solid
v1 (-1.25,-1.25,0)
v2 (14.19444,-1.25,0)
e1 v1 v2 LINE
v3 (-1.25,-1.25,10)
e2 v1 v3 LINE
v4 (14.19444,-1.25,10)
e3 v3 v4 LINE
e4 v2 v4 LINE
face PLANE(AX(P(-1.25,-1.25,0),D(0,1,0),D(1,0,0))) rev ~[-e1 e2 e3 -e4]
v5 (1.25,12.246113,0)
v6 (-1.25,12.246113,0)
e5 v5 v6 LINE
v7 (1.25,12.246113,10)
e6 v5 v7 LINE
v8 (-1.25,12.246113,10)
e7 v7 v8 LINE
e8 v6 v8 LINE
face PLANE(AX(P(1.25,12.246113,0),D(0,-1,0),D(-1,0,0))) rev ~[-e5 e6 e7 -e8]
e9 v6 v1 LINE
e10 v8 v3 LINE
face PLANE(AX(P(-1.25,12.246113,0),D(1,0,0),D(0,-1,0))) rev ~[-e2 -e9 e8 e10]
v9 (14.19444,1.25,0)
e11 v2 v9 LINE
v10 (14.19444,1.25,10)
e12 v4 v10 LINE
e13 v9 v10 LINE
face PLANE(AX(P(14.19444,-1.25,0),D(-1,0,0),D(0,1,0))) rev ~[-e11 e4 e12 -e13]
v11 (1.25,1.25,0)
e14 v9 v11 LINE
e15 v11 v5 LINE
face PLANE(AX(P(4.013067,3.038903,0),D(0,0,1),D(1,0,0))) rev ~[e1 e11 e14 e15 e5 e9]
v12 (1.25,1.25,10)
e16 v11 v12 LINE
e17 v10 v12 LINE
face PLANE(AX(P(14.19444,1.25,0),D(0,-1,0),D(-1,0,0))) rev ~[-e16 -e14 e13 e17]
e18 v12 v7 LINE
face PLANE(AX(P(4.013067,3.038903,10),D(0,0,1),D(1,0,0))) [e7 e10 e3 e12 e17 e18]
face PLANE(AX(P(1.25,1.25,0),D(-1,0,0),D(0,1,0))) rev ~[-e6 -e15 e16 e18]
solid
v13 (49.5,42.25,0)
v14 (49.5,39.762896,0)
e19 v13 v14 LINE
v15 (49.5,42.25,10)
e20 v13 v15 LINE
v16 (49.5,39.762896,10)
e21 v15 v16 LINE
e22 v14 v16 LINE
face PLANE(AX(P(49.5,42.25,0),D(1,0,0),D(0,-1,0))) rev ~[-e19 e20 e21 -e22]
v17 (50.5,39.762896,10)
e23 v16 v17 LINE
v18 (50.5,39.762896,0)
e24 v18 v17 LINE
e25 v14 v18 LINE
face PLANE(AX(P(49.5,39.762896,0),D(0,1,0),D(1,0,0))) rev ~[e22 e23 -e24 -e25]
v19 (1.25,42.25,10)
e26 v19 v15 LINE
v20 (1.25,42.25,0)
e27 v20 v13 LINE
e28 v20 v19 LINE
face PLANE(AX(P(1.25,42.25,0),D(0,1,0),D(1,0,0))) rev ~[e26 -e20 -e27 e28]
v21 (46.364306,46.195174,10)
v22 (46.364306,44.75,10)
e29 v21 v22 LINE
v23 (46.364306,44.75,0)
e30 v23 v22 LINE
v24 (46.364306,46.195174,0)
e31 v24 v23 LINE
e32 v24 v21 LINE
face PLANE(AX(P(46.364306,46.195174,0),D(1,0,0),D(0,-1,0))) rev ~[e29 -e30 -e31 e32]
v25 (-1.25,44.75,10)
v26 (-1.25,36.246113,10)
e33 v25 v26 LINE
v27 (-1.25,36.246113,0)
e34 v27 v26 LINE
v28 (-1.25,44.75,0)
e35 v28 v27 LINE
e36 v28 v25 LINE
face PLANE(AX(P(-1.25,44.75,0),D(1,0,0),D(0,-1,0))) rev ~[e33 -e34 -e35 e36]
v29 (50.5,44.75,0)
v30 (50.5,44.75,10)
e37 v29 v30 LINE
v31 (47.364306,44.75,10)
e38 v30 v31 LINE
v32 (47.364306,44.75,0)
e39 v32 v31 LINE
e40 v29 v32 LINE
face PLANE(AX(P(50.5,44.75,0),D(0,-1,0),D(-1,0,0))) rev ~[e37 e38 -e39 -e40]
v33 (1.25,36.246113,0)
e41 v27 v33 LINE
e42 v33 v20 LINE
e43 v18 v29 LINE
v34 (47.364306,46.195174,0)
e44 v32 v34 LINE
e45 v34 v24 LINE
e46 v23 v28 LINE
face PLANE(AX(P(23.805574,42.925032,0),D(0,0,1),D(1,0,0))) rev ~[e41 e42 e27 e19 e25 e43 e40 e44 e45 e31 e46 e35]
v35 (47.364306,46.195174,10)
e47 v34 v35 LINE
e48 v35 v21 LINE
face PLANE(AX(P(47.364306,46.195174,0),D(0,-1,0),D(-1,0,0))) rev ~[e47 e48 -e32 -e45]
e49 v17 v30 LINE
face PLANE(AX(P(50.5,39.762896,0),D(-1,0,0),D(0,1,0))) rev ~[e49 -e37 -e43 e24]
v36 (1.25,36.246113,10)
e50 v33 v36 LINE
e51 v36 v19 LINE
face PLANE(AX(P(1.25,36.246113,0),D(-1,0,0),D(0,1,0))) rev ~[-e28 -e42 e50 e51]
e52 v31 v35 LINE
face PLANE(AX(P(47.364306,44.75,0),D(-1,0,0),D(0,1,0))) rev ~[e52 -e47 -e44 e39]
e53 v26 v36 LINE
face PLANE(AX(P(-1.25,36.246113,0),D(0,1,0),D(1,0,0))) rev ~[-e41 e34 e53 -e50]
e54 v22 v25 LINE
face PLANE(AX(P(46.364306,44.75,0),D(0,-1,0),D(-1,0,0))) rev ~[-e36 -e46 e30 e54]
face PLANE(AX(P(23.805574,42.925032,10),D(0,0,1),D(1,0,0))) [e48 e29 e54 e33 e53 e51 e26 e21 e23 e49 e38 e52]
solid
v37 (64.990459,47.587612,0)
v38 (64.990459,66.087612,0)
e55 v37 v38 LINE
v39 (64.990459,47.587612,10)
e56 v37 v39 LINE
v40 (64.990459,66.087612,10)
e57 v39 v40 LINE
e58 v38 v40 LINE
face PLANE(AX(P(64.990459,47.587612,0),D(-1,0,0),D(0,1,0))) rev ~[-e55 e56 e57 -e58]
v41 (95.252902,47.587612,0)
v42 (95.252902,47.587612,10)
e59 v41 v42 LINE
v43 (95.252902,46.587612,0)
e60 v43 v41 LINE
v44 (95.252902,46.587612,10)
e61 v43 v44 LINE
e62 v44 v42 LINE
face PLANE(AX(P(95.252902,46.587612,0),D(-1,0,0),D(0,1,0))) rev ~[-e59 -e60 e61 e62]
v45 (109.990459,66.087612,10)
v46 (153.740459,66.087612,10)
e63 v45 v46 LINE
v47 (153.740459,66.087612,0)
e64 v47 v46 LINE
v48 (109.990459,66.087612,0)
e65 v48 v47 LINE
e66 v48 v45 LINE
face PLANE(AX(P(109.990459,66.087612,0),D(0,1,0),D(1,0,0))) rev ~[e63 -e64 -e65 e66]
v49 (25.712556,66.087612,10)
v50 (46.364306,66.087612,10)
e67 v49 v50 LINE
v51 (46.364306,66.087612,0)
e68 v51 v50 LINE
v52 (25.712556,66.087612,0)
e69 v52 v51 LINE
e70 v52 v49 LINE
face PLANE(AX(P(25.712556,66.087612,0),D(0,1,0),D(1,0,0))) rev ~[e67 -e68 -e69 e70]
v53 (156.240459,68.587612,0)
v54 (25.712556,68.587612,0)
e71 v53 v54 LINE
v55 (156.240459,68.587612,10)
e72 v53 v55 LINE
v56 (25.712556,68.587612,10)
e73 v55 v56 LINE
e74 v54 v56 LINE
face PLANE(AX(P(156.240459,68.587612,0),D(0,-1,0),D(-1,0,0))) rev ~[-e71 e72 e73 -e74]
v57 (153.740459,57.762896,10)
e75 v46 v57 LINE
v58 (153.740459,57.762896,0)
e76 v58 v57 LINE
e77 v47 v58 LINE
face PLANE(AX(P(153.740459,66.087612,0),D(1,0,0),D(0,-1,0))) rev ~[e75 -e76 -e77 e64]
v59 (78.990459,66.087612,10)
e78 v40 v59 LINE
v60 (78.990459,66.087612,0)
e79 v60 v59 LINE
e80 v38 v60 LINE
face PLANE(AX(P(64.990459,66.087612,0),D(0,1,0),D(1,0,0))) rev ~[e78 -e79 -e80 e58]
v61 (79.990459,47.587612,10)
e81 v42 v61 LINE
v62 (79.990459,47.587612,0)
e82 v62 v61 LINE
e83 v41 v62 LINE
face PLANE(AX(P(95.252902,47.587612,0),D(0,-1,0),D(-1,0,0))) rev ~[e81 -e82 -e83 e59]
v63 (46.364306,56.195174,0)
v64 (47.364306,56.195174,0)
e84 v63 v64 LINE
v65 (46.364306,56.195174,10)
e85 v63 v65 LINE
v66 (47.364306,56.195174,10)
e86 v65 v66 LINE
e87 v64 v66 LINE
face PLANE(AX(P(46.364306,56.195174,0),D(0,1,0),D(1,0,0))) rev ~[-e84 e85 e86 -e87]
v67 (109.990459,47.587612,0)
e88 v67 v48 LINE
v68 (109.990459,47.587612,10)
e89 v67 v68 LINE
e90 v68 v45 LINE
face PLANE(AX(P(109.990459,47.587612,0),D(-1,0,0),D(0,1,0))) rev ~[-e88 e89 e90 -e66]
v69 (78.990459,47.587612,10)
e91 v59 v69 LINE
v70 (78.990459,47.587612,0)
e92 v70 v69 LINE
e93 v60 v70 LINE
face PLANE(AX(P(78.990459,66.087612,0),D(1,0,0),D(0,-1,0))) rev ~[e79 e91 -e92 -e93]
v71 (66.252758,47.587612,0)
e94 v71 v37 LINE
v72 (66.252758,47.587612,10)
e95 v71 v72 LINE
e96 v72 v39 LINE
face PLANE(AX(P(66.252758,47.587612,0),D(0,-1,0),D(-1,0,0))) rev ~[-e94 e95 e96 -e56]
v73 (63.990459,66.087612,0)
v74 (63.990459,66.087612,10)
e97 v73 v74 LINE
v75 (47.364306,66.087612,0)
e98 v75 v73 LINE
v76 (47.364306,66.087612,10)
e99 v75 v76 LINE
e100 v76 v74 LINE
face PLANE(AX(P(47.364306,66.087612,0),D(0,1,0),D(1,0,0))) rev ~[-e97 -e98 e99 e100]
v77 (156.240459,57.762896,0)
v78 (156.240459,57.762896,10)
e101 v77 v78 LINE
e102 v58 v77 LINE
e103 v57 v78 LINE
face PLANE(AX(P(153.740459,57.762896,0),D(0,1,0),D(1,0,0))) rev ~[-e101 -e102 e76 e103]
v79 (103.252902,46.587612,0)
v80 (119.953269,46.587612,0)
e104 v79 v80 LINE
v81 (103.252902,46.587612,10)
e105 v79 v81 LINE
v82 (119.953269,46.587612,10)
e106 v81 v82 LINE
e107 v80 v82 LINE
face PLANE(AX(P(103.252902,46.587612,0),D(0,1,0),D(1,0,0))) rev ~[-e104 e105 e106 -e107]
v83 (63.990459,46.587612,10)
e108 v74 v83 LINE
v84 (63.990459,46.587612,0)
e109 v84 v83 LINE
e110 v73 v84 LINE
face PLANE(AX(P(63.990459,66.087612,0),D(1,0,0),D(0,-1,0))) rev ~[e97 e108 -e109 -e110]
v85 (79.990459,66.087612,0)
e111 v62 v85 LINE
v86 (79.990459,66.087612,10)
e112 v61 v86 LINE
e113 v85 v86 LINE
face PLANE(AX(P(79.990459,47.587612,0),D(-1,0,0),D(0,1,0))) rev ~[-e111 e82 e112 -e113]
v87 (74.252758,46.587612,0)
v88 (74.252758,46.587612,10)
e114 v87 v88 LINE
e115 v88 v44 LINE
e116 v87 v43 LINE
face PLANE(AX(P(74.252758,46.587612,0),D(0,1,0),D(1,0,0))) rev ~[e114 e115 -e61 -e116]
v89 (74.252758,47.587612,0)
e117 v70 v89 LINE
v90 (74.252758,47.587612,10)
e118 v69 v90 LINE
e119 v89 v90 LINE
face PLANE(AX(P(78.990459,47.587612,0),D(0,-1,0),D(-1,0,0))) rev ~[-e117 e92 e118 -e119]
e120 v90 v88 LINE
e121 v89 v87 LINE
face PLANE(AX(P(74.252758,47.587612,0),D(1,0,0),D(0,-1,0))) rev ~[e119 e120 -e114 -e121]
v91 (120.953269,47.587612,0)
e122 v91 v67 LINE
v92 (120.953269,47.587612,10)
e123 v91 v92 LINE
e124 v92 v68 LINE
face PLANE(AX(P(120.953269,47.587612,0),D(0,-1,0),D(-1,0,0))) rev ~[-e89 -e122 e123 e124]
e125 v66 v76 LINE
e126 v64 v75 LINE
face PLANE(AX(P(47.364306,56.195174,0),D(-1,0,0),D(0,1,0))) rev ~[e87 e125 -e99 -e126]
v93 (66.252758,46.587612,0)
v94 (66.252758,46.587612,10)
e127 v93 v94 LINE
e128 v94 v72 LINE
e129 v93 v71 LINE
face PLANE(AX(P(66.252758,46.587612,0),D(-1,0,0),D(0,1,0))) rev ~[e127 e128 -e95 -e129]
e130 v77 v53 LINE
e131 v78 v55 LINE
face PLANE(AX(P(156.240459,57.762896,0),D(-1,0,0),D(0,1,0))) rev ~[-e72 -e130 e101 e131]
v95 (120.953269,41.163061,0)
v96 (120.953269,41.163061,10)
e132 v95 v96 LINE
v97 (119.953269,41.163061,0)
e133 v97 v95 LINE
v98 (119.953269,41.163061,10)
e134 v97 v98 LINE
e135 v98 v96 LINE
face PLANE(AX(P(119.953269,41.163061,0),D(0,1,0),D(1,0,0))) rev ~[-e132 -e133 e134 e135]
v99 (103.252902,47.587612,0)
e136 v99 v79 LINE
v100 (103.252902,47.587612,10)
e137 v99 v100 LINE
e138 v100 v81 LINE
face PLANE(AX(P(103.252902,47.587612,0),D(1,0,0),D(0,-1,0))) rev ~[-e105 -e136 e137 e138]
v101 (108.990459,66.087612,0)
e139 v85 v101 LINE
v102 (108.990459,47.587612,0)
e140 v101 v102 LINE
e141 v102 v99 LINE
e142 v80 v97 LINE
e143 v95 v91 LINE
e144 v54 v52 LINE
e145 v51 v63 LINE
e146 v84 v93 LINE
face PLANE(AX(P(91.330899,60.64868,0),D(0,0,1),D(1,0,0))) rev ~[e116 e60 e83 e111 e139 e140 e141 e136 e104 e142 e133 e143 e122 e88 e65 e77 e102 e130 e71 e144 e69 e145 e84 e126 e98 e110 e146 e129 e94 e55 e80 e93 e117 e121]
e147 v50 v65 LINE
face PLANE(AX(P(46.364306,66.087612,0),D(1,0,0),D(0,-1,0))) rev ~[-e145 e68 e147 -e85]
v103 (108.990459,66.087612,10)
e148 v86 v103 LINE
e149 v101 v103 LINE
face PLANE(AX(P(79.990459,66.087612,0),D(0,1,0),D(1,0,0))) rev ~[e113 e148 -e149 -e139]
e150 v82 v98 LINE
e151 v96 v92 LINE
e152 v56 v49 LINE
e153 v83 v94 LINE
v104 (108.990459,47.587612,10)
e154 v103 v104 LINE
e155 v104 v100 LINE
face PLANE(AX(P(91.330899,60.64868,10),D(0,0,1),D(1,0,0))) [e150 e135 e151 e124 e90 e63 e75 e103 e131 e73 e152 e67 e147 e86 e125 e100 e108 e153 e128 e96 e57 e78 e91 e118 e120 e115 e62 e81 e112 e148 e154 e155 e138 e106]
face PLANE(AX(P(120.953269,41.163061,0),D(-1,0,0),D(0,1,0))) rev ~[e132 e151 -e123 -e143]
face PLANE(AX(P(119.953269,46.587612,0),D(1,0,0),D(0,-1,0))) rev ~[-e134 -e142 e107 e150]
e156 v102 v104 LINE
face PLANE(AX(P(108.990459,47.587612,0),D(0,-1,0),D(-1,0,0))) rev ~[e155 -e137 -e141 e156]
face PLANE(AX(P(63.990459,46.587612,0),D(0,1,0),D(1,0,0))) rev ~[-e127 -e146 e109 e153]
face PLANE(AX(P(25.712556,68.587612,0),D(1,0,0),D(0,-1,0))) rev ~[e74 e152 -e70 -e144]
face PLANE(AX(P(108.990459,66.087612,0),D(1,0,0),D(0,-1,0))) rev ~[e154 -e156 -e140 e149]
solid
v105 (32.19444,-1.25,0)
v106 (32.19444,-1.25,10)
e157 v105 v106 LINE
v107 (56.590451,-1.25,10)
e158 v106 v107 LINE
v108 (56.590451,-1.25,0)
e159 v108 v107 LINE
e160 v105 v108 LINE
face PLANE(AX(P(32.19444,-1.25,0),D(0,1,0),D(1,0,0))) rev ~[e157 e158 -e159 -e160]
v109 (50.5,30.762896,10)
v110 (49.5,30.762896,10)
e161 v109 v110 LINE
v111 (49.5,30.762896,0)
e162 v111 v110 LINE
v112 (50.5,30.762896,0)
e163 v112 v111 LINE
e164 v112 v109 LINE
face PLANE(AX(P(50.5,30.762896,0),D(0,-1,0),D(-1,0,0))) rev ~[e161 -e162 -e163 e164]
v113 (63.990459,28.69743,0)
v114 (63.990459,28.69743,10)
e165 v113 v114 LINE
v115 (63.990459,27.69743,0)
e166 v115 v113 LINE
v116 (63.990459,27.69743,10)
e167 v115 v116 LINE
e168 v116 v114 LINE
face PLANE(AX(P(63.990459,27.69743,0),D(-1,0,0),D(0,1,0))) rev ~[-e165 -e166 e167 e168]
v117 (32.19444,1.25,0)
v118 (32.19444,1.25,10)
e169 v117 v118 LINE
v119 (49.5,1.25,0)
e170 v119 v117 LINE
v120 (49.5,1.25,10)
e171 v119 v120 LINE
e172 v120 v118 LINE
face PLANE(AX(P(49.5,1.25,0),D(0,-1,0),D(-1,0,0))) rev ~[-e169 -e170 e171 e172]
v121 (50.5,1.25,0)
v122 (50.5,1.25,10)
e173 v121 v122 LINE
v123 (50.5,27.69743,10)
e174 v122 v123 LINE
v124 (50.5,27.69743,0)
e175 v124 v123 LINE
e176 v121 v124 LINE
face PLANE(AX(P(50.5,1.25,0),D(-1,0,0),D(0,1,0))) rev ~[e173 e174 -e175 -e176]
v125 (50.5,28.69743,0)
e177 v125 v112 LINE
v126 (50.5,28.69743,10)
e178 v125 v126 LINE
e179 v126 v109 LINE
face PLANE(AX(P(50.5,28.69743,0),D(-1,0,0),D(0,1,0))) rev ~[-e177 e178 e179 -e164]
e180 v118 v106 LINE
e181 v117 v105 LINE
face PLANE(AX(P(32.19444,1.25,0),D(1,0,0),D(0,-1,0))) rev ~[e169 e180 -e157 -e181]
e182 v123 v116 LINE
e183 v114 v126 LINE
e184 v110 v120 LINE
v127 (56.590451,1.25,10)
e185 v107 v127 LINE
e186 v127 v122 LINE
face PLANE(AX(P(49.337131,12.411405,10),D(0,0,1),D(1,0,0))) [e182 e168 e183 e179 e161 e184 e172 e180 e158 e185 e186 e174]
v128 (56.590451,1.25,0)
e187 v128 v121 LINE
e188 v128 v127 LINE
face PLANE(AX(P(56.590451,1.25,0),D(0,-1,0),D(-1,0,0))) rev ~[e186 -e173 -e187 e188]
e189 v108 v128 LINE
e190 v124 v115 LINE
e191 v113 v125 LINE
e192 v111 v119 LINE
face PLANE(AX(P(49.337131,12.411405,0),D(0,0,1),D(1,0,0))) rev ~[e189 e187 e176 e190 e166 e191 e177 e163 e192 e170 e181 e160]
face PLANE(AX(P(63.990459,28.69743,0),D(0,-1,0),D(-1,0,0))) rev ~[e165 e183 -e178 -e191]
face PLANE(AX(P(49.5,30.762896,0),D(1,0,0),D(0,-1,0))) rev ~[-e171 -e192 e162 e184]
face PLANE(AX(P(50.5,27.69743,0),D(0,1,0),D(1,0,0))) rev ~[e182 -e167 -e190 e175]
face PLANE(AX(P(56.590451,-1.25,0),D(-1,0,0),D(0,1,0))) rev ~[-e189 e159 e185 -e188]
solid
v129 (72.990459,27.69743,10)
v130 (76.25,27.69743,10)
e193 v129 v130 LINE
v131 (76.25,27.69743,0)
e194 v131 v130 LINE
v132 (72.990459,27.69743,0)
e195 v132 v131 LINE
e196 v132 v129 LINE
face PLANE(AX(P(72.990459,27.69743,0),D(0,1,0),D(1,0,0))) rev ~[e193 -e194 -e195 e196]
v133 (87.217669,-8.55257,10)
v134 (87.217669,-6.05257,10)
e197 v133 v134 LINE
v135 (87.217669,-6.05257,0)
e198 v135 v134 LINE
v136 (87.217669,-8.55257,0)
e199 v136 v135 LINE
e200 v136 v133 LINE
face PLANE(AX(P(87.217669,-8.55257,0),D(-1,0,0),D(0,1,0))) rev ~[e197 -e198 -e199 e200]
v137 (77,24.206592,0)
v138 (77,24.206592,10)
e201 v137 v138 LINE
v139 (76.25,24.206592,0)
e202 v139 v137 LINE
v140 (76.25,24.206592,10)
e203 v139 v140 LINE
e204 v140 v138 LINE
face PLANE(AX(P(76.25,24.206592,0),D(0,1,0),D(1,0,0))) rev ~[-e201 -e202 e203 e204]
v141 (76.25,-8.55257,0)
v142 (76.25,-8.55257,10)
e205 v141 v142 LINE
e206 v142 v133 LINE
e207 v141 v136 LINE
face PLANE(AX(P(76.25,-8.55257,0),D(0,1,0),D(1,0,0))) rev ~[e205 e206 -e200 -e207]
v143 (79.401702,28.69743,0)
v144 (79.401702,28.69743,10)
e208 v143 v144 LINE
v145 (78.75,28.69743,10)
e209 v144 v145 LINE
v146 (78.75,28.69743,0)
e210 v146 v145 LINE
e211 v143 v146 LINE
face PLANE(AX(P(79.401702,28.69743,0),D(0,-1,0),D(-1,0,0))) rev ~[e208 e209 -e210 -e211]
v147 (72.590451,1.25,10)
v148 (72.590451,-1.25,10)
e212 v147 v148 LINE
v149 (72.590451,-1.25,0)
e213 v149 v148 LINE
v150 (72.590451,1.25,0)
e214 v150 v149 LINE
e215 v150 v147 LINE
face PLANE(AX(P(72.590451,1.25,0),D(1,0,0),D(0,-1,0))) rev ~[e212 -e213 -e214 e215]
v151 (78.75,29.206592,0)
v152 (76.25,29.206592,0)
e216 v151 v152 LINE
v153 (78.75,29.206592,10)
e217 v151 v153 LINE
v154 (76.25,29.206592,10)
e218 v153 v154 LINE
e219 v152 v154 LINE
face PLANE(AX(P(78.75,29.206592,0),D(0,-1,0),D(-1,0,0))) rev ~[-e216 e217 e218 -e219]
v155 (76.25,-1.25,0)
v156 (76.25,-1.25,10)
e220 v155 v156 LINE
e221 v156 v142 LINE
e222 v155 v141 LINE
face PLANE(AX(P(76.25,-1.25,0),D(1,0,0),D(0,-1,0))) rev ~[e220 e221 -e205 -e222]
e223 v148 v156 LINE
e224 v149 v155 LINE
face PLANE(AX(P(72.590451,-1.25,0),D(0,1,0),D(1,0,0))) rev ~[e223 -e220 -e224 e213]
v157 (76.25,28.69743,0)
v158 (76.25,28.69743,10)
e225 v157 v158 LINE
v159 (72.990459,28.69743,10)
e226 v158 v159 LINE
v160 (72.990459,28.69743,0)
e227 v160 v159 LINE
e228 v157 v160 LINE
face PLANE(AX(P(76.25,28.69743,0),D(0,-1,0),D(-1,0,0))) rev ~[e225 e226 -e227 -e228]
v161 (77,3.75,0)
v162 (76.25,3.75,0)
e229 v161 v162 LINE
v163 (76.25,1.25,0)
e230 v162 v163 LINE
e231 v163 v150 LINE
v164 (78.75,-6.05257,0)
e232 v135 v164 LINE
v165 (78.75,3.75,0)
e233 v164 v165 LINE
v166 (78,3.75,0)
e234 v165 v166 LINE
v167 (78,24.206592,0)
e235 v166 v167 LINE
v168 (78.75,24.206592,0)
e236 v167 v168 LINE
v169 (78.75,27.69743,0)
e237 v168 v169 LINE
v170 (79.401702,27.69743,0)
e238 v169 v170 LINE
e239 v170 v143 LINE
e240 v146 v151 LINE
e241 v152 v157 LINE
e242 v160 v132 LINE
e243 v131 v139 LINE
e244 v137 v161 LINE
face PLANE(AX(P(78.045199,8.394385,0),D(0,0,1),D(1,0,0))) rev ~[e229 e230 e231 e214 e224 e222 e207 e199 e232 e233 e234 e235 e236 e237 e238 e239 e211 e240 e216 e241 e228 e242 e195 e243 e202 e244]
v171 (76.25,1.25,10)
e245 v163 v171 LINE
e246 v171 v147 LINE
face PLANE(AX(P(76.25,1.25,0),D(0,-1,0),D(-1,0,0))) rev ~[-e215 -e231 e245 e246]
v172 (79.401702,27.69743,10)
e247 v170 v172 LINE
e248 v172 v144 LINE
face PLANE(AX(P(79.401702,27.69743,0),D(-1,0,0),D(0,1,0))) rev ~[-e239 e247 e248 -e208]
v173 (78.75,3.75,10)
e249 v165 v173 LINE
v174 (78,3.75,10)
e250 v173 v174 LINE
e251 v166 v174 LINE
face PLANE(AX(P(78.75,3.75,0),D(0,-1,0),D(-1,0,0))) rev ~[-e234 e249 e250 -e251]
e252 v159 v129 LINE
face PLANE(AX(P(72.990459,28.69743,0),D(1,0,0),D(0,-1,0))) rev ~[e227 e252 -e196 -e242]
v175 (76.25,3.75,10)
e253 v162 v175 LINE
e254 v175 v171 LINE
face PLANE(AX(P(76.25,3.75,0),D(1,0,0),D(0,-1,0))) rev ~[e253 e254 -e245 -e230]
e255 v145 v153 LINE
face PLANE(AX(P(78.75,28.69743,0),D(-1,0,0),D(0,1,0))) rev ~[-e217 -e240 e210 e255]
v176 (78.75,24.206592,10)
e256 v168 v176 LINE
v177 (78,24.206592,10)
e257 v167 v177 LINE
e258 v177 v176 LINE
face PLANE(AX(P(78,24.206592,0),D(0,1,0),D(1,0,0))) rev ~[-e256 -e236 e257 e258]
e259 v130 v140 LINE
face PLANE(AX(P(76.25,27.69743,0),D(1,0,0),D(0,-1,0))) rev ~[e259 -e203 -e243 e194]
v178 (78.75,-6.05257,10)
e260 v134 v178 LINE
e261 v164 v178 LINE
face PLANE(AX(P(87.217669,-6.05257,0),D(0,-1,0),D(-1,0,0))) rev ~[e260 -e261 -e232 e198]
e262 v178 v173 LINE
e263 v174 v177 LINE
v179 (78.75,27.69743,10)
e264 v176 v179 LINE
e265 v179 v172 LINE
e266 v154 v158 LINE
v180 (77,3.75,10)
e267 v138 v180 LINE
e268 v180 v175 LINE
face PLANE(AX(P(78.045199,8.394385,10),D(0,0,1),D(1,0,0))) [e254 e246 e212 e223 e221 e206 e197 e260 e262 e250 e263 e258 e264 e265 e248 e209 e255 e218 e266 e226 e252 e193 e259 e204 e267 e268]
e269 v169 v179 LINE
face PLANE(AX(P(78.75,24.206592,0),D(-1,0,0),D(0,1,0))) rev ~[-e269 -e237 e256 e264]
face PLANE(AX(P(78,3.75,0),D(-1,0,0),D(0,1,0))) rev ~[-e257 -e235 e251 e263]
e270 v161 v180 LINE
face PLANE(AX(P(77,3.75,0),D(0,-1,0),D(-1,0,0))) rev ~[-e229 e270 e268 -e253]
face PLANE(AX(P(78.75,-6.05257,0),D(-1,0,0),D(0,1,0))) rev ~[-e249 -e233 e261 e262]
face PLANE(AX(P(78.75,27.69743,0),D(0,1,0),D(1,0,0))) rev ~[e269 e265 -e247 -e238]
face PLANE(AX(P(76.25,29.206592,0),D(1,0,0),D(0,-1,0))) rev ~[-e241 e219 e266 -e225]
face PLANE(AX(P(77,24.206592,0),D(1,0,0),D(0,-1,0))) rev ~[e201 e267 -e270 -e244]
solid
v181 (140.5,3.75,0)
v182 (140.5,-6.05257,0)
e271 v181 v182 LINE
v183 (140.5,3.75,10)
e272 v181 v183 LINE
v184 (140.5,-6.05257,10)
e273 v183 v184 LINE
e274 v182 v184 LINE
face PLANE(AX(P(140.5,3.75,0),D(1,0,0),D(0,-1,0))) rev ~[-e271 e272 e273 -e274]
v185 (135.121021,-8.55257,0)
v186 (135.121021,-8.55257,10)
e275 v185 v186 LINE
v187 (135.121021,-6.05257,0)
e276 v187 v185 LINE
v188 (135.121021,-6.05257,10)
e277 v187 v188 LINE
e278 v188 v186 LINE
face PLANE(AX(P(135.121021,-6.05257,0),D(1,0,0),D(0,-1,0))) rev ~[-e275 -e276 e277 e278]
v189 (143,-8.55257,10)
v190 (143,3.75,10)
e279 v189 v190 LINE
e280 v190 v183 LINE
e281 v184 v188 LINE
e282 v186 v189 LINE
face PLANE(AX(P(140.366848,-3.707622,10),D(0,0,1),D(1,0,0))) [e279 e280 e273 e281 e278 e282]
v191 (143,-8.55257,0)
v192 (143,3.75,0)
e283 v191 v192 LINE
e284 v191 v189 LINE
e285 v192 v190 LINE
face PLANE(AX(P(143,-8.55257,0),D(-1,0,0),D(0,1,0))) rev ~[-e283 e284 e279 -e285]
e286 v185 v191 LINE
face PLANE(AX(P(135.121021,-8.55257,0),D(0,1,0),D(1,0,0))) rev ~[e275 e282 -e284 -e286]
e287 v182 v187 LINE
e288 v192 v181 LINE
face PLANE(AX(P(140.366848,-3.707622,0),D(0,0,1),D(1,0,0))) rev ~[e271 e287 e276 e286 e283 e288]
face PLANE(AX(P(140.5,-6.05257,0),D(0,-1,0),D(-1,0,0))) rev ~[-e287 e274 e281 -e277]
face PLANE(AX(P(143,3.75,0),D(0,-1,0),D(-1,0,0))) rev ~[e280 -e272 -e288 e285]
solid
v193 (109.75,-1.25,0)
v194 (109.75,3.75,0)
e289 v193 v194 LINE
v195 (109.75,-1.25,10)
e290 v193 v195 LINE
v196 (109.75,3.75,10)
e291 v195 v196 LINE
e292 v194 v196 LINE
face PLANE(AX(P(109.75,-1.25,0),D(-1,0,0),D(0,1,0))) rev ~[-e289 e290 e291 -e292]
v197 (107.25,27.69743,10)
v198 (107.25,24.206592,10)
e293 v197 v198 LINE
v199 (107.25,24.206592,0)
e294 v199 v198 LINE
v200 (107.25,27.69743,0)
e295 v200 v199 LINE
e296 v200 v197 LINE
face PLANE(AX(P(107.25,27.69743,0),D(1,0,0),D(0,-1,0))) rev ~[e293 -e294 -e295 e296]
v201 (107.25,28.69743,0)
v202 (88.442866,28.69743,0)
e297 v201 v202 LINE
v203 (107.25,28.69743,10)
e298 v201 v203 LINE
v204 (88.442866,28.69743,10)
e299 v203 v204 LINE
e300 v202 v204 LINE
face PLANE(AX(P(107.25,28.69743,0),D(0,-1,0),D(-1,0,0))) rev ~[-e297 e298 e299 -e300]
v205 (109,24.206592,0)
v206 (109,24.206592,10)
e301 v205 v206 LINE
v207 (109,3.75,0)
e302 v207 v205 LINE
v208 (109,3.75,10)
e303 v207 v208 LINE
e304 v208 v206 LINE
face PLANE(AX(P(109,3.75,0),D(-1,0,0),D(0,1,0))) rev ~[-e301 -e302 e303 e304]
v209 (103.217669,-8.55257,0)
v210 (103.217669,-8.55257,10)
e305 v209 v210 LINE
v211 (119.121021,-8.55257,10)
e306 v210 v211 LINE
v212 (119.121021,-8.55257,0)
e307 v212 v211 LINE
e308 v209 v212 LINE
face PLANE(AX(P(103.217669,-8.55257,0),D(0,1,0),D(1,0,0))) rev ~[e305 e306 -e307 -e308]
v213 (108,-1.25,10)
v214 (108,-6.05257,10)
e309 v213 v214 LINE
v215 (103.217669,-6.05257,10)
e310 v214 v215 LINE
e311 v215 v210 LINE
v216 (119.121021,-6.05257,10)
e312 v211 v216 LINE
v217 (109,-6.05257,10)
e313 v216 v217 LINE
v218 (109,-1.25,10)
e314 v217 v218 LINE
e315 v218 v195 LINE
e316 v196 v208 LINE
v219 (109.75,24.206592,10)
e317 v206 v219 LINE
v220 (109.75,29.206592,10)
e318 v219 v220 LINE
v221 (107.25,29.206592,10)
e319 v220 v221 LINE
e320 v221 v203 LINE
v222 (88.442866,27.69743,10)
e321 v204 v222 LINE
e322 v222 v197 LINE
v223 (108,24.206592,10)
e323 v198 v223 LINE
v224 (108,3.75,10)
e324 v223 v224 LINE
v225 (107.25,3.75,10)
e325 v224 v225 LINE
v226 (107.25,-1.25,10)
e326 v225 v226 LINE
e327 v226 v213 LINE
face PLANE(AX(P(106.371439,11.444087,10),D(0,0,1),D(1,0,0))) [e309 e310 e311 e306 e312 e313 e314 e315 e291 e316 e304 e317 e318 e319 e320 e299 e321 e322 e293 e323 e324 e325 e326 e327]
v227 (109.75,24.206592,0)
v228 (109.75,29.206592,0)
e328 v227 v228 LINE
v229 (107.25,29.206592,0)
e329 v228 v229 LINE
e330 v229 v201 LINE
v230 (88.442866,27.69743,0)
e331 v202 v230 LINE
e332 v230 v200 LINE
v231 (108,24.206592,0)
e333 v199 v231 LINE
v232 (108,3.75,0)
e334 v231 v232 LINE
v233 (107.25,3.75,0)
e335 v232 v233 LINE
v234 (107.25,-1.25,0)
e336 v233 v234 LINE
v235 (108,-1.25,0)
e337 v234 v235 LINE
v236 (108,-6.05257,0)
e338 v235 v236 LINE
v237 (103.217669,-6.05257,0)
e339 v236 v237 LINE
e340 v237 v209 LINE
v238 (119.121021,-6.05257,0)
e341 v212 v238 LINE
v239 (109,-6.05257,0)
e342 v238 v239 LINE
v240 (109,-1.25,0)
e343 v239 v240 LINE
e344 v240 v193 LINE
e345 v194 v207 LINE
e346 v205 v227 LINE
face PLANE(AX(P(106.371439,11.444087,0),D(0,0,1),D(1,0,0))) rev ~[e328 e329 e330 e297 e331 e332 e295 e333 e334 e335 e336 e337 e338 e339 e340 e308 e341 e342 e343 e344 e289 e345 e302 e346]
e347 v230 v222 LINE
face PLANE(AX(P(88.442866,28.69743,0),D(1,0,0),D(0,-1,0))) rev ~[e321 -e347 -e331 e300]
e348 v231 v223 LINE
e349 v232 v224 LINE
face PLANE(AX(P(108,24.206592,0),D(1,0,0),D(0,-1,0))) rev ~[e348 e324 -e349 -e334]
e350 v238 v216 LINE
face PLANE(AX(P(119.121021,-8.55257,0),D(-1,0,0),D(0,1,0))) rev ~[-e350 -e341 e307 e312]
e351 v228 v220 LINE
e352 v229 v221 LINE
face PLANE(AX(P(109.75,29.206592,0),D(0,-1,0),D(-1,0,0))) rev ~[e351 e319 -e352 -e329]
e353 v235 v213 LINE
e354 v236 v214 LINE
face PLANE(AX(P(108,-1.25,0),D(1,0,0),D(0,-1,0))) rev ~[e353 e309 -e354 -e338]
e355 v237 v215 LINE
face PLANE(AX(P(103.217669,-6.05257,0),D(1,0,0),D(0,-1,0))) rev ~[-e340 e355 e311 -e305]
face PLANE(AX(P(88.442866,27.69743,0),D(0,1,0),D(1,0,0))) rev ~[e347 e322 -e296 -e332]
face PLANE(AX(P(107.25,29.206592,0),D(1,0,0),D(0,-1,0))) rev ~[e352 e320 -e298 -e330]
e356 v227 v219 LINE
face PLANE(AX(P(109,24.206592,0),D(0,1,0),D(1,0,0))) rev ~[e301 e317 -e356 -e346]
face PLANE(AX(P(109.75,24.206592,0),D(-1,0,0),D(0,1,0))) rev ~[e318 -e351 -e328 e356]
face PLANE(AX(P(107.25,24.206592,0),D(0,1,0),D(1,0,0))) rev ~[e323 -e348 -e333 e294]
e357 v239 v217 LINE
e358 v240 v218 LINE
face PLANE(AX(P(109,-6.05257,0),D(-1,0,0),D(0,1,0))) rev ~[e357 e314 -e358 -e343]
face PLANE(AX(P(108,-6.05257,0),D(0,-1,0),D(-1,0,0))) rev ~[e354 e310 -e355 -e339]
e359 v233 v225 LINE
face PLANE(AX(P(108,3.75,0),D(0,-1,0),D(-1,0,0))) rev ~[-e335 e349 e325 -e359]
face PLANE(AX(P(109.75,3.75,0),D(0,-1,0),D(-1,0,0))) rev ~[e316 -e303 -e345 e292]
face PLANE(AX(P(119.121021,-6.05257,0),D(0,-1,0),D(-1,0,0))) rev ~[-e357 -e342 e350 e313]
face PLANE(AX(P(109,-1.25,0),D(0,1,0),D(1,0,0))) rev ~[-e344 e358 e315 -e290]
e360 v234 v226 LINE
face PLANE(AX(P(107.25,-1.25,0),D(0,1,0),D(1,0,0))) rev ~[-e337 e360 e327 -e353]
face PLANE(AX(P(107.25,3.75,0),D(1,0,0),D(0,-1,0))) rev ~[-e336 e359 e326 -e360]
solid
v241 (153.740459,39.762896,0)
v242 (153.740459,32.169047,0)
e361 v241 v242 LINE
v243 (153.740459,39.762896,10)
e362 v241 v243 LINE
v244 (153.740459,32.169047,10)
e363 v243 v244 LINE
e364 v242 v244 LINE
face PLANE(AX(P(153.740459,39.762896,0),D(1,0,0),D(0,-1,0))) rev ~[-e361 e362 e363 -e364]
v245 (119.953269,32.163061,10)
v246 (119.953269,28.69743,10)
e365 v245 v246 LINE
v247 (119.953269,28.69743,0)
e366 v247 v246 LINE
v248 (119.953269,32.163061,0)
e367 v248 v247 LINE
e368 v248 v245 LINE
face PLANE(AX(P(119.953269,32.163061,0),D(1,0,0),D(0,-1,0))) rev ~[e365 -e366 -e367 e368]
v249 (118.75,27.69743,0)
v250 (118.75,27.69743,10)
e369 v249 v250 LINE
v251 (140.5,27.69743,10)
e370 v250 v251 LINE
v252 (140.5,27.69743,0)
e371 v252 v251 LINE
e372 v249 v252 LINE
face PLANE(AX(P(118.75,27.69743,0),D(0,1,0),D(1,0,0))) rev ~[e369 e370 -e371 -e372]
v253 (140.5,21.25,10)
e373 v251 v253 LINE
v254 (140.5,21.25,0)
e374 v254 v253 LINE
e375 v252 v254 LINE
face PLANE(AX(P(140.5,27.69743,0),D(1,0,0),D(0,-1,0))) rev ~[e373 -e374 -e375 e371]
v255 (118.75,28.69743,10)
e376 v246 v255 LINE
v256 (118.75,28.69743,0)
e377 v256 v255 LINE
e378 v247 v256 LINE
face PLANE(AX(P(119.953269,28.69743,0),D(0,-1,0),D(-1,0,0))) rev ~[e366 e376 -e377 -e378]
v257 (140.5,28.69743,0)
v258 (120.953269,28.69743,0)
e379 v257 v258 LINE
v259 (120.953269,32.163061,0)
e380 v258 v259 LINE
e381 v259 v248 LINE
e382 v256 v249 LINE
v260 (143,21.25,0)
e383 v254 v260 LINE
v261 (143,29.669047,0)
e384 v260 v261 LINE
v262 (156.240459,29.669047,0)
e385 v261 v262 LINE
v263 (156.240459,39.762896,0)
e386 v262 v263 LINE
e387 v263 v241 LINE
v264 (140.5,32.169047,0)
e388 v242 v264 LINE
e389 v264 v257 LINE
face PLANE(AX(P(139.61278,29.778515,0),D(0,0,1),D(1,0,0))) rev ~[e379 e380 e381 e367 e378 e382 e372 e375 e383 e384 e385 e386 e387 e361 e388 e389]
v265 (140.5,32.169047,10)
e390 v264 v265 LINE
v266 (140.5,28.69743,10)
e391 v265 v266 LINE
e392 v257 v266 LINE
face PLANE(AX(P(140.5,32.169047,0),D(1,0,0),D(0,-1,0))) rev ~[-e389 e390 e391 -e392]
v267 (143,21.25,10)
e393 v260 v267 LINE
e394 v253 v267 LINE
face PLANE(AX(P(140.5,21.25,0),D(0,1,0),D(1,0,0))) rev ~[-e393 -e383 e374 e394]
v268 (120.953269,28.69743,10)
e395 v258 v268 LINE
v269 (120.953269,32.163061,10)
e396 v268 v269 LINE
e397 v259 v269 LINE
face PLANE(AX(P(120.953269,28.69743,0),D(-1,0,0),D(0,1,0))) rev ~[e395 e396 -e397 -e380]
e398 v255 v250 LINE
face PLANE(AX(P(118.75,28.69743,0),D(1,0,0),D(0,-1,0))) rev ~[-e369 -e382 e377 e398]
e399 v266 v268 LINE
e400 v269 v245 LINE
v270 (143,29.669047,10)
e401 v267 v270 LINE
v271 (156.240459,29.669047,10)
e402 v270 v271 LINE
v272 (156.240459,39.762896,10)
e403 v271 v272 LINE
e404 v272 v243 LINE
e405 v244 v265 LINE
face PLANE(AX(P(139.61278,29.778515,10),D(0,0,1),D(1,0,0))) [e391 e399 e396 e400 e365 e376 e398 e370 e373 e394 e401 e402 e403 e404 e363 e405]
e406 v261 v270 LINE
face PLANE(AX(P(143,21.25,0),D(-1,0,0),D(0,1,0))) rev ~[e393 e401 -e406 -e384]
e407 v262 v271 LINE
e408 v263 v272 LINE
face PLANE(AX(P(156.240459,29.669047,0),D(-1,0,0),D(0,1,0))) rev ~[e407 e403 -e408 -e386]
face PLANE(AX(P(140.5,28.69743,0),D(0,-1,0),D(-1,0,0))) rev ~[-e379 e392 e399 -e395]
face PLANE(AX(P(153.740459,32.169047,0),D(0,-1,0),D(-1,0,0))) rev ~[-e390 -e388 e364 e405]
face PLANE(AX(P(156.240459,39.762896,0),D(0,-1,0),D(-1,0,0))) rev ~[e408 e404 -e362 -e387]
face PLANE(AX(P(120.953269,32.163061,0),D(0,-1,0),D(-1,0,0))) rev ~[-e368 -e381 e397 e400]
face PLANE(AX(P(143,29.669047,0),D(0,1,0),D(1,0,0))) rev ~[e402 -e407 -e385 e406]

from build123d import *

# Parameters (mm, degrees)
BOSS_EXTRUDE1_DEPTH   = 10
BOSS_EXTRUDE1_2_DEPTH = 10
BOSS_EXTRUDE1_3_DEPTH = 10
BOSS_EXTRUDE1_4_DEPTH = 10
BOSS_EXTRUDE1_5_DEPTH = 10
BOSS_EXTRUDE1_6_DEPTH = 10
BOSS_EXTRUDE1_7_DEPTH = 10
BOSS_EXTRUDE1_8_DEPTH = 10


with BuildPart() as part:
    # Sketch2 → Boss-Extrude1 (new body)
    with BuildSketch(Plane.XY):
        Polygon((1.25, 42.25), (49.5, 42.25), (49.5, 39.76289584), (50.5, 39.76289584), (50.5, 44.75), (47.364305552, 44.75), (47.364305552, 46.195174047), (46.364305552, 46.195174047), (46.364305552, 44.75), (-1.25, 44.75), (-1.25, 36.246112635), (1.25, 36.246112635), align=None)
    extrude(amount=BOSS_EXTRUDE1_DEPTH)


with BuildPart() as body_2:
    # Sketch2 → Boss-Extrude1 2 (new body)
    with BuildSketch(Plane.XY):
        Polygon((-1.25, 12.246112635), (-1.25, -1.25), (14.194440447, -1.25), (14.194440447, 1.25), (1.25, 1.25), (1.25, 12.246112635), align=None)
    extrude(amount=BOSS_EXTRUDE1_2_DEPTH)


with BuildPart() as body_3:
    # Sketch2 → Boss-Extrude1 3 (new body)
    with BuildSketch(Plane.XY):
        Polygon((56.590450533, 1.25), (50.5, 1.25), (50.5, 27.697429853), (63.990459014, 27.697429853), (63.990459014, 28.697429853), (50.5, 28.697429853), (50.5, 30.76289584), (49.5, 30.76289584), (49.5, 1.25), (32.194440447, 1.25), (32.194440447, -1.25), (56.590450533, -1.25), align=None)
    extrude(amount=BOSS_EXTRUDE1_3_DEPTH)


with BuildPart() as body_4:
    # Sketch2 → Boss-Extrude1 4 (new body)
    with BuildSketch(Plane.XY):
        Polygon((72.590450533, -1.25), (76.25, -1.25), (76.25, -8.552570147), (87.217668521, -8.552570147), (87.217668521, -6.052570147), (78.75, -6.052570147), (78.75, 3.75), (78, 3.75), (78, 24.206591876), (78.75, 24.206591876), (78.75, 27.697429853), (79.401701652, 27.697429853), (79.401701652, 28.697429853), (78.75, 28.697429853), (78.75, 29.206591876), (76.25, 29.206591876), (76.25, 28.697429853), (72.990459014, 28.697429853), (72.990459014, 27.697429853), (76.25, 27.697429853), (76.25, 24.206591876), (77, 24.206591876), (77, 3.75), (76.25, 3.75), (76.25, 1.25), (72.590450533, 1.25), align=None)
    extrude(amount=BOSS_EXTRUDE1_4_DEPTH)


with BuildPart() as body_5:
    # Sketch2 → Boss-Extrude1 5 (new body)
    with BuildSketch(Plane.XY):
        Polygon((119.121020592, -6.052570147), (109, -6.052570147), (109, -1.25), (109.75, -1.25), (109.75, 3.75), (109, 3.75), (109, 24.206591876), (109.75, 24.206591876), (109.75, 29.206591876), (107.25, 29.206591876), (107.25, 28.697429853), (88.442866465, 28.697429853), (88.442866465, 27.697429853), (107.25, 27.697429853), (107.25, 24.206591876), (108, 24.206591876), (108, 3.75), (107.25, 3.75), (107.25, -1.25), (108, -1.25), (108, -6.052570147), (103.217668521, -6.052570147), (103.217668521, -8.552570147), (119.121020592, -8.552570147), align=None)
    extrude(amount=BOSS_EXTRUDE1_5_DEPTH)


with BuildPart() as body_6:
    # Sketch2 → Boss-Extrude1 6 (new body)
    with BuildSketch(Plane.XY):
        Polygon((135.121020592, -8.552570147), (143, -8.552570147), (143, 3.75), (140.5, 3.75), (140.5, -6.052570147), (135.121020592, -6.052570147), align=None)
    extrude(amount=BOSS_EXTRUDE1_6_DEPTH)


with BuildPart() as body_7:
    # Sketch2 → Boss-Extrude1 7 (new body)
    with BuildSketch(Plane.XY):
        Polygon((140.5, 32.169046535), (140.5, 28.697429853), (120.953268871, 28.697429853), (120.953268871, 32.163060598), (119.953268871, 32.163060598), (119.953268871, 28.697429853), (118.75, 28.697429853), (118.75, 27.697429853), (140.5, 27.697429853), (140.5, 21.25), (143, 21.25), (143, 29.669046535), (156.240459014, 29.669046535), (156.240459014, 39.76289584), (153.740459014, 39.76289584), (153.740459014, 32.169046535), align=None)
    extrude(amount=BOSS_EXTRUDE1_7_DEPTH)


with BuildPart() as body_8:
    # Sketch2 → Boss-Extrude1 8 (new body)
    with BuildSketch(Plane.XY):
        Polygon((156.240459014, 68.58761226), (25.71255602, 68.58761226), (25.71255602, 66.08761226), (46.364305552, 66.08761226), (46.364305552, 56.195174047), (47.364305552, 56.195174047), (47.364305552, 66.08761226), (63.990459014, 66.08761226), (63.990459014, 46.58761226), (66.252757915, 46.58761226), (66.252757915, 47.58761226), (64.990459014, 47.58761226), (64.990459014, 66.08761226), (78.990459014, 66.08761226), (78.990459014, 47.58761226), (74.252757915, 47.58761226), (74.252757915, 46.58761226), (95.252902041, 46.58761226), (95.252902041, 47.58761226), (79.990459014, 47.58761226), (79.990459014, 66.08761226), (108.990459014, 66.08761226), (108.990459014, 47.58761226), (103.252902041, 47.58761226), (103.252902041, 46.58761226), (119.953268871, 46.58761226), (119.953268871, 41.163060598), (120.953268871, 41.163060598), (120.953268871, 47.58761226), (109.990459014, 47.58761226), (109.990459014, 66.08761226), (153.740459014, 66.08761226), (153.740459014, 57.76289584), (156.240459014, 57.76289584), align=None)
    extrude(amount=BOSS_EXTRUDE1_8_DEPTH)


solid = Compound([part.part, body_2.part, body_3.part, body_4.part, body_5.part, body_6.part, body_7.part, body_8.part])
